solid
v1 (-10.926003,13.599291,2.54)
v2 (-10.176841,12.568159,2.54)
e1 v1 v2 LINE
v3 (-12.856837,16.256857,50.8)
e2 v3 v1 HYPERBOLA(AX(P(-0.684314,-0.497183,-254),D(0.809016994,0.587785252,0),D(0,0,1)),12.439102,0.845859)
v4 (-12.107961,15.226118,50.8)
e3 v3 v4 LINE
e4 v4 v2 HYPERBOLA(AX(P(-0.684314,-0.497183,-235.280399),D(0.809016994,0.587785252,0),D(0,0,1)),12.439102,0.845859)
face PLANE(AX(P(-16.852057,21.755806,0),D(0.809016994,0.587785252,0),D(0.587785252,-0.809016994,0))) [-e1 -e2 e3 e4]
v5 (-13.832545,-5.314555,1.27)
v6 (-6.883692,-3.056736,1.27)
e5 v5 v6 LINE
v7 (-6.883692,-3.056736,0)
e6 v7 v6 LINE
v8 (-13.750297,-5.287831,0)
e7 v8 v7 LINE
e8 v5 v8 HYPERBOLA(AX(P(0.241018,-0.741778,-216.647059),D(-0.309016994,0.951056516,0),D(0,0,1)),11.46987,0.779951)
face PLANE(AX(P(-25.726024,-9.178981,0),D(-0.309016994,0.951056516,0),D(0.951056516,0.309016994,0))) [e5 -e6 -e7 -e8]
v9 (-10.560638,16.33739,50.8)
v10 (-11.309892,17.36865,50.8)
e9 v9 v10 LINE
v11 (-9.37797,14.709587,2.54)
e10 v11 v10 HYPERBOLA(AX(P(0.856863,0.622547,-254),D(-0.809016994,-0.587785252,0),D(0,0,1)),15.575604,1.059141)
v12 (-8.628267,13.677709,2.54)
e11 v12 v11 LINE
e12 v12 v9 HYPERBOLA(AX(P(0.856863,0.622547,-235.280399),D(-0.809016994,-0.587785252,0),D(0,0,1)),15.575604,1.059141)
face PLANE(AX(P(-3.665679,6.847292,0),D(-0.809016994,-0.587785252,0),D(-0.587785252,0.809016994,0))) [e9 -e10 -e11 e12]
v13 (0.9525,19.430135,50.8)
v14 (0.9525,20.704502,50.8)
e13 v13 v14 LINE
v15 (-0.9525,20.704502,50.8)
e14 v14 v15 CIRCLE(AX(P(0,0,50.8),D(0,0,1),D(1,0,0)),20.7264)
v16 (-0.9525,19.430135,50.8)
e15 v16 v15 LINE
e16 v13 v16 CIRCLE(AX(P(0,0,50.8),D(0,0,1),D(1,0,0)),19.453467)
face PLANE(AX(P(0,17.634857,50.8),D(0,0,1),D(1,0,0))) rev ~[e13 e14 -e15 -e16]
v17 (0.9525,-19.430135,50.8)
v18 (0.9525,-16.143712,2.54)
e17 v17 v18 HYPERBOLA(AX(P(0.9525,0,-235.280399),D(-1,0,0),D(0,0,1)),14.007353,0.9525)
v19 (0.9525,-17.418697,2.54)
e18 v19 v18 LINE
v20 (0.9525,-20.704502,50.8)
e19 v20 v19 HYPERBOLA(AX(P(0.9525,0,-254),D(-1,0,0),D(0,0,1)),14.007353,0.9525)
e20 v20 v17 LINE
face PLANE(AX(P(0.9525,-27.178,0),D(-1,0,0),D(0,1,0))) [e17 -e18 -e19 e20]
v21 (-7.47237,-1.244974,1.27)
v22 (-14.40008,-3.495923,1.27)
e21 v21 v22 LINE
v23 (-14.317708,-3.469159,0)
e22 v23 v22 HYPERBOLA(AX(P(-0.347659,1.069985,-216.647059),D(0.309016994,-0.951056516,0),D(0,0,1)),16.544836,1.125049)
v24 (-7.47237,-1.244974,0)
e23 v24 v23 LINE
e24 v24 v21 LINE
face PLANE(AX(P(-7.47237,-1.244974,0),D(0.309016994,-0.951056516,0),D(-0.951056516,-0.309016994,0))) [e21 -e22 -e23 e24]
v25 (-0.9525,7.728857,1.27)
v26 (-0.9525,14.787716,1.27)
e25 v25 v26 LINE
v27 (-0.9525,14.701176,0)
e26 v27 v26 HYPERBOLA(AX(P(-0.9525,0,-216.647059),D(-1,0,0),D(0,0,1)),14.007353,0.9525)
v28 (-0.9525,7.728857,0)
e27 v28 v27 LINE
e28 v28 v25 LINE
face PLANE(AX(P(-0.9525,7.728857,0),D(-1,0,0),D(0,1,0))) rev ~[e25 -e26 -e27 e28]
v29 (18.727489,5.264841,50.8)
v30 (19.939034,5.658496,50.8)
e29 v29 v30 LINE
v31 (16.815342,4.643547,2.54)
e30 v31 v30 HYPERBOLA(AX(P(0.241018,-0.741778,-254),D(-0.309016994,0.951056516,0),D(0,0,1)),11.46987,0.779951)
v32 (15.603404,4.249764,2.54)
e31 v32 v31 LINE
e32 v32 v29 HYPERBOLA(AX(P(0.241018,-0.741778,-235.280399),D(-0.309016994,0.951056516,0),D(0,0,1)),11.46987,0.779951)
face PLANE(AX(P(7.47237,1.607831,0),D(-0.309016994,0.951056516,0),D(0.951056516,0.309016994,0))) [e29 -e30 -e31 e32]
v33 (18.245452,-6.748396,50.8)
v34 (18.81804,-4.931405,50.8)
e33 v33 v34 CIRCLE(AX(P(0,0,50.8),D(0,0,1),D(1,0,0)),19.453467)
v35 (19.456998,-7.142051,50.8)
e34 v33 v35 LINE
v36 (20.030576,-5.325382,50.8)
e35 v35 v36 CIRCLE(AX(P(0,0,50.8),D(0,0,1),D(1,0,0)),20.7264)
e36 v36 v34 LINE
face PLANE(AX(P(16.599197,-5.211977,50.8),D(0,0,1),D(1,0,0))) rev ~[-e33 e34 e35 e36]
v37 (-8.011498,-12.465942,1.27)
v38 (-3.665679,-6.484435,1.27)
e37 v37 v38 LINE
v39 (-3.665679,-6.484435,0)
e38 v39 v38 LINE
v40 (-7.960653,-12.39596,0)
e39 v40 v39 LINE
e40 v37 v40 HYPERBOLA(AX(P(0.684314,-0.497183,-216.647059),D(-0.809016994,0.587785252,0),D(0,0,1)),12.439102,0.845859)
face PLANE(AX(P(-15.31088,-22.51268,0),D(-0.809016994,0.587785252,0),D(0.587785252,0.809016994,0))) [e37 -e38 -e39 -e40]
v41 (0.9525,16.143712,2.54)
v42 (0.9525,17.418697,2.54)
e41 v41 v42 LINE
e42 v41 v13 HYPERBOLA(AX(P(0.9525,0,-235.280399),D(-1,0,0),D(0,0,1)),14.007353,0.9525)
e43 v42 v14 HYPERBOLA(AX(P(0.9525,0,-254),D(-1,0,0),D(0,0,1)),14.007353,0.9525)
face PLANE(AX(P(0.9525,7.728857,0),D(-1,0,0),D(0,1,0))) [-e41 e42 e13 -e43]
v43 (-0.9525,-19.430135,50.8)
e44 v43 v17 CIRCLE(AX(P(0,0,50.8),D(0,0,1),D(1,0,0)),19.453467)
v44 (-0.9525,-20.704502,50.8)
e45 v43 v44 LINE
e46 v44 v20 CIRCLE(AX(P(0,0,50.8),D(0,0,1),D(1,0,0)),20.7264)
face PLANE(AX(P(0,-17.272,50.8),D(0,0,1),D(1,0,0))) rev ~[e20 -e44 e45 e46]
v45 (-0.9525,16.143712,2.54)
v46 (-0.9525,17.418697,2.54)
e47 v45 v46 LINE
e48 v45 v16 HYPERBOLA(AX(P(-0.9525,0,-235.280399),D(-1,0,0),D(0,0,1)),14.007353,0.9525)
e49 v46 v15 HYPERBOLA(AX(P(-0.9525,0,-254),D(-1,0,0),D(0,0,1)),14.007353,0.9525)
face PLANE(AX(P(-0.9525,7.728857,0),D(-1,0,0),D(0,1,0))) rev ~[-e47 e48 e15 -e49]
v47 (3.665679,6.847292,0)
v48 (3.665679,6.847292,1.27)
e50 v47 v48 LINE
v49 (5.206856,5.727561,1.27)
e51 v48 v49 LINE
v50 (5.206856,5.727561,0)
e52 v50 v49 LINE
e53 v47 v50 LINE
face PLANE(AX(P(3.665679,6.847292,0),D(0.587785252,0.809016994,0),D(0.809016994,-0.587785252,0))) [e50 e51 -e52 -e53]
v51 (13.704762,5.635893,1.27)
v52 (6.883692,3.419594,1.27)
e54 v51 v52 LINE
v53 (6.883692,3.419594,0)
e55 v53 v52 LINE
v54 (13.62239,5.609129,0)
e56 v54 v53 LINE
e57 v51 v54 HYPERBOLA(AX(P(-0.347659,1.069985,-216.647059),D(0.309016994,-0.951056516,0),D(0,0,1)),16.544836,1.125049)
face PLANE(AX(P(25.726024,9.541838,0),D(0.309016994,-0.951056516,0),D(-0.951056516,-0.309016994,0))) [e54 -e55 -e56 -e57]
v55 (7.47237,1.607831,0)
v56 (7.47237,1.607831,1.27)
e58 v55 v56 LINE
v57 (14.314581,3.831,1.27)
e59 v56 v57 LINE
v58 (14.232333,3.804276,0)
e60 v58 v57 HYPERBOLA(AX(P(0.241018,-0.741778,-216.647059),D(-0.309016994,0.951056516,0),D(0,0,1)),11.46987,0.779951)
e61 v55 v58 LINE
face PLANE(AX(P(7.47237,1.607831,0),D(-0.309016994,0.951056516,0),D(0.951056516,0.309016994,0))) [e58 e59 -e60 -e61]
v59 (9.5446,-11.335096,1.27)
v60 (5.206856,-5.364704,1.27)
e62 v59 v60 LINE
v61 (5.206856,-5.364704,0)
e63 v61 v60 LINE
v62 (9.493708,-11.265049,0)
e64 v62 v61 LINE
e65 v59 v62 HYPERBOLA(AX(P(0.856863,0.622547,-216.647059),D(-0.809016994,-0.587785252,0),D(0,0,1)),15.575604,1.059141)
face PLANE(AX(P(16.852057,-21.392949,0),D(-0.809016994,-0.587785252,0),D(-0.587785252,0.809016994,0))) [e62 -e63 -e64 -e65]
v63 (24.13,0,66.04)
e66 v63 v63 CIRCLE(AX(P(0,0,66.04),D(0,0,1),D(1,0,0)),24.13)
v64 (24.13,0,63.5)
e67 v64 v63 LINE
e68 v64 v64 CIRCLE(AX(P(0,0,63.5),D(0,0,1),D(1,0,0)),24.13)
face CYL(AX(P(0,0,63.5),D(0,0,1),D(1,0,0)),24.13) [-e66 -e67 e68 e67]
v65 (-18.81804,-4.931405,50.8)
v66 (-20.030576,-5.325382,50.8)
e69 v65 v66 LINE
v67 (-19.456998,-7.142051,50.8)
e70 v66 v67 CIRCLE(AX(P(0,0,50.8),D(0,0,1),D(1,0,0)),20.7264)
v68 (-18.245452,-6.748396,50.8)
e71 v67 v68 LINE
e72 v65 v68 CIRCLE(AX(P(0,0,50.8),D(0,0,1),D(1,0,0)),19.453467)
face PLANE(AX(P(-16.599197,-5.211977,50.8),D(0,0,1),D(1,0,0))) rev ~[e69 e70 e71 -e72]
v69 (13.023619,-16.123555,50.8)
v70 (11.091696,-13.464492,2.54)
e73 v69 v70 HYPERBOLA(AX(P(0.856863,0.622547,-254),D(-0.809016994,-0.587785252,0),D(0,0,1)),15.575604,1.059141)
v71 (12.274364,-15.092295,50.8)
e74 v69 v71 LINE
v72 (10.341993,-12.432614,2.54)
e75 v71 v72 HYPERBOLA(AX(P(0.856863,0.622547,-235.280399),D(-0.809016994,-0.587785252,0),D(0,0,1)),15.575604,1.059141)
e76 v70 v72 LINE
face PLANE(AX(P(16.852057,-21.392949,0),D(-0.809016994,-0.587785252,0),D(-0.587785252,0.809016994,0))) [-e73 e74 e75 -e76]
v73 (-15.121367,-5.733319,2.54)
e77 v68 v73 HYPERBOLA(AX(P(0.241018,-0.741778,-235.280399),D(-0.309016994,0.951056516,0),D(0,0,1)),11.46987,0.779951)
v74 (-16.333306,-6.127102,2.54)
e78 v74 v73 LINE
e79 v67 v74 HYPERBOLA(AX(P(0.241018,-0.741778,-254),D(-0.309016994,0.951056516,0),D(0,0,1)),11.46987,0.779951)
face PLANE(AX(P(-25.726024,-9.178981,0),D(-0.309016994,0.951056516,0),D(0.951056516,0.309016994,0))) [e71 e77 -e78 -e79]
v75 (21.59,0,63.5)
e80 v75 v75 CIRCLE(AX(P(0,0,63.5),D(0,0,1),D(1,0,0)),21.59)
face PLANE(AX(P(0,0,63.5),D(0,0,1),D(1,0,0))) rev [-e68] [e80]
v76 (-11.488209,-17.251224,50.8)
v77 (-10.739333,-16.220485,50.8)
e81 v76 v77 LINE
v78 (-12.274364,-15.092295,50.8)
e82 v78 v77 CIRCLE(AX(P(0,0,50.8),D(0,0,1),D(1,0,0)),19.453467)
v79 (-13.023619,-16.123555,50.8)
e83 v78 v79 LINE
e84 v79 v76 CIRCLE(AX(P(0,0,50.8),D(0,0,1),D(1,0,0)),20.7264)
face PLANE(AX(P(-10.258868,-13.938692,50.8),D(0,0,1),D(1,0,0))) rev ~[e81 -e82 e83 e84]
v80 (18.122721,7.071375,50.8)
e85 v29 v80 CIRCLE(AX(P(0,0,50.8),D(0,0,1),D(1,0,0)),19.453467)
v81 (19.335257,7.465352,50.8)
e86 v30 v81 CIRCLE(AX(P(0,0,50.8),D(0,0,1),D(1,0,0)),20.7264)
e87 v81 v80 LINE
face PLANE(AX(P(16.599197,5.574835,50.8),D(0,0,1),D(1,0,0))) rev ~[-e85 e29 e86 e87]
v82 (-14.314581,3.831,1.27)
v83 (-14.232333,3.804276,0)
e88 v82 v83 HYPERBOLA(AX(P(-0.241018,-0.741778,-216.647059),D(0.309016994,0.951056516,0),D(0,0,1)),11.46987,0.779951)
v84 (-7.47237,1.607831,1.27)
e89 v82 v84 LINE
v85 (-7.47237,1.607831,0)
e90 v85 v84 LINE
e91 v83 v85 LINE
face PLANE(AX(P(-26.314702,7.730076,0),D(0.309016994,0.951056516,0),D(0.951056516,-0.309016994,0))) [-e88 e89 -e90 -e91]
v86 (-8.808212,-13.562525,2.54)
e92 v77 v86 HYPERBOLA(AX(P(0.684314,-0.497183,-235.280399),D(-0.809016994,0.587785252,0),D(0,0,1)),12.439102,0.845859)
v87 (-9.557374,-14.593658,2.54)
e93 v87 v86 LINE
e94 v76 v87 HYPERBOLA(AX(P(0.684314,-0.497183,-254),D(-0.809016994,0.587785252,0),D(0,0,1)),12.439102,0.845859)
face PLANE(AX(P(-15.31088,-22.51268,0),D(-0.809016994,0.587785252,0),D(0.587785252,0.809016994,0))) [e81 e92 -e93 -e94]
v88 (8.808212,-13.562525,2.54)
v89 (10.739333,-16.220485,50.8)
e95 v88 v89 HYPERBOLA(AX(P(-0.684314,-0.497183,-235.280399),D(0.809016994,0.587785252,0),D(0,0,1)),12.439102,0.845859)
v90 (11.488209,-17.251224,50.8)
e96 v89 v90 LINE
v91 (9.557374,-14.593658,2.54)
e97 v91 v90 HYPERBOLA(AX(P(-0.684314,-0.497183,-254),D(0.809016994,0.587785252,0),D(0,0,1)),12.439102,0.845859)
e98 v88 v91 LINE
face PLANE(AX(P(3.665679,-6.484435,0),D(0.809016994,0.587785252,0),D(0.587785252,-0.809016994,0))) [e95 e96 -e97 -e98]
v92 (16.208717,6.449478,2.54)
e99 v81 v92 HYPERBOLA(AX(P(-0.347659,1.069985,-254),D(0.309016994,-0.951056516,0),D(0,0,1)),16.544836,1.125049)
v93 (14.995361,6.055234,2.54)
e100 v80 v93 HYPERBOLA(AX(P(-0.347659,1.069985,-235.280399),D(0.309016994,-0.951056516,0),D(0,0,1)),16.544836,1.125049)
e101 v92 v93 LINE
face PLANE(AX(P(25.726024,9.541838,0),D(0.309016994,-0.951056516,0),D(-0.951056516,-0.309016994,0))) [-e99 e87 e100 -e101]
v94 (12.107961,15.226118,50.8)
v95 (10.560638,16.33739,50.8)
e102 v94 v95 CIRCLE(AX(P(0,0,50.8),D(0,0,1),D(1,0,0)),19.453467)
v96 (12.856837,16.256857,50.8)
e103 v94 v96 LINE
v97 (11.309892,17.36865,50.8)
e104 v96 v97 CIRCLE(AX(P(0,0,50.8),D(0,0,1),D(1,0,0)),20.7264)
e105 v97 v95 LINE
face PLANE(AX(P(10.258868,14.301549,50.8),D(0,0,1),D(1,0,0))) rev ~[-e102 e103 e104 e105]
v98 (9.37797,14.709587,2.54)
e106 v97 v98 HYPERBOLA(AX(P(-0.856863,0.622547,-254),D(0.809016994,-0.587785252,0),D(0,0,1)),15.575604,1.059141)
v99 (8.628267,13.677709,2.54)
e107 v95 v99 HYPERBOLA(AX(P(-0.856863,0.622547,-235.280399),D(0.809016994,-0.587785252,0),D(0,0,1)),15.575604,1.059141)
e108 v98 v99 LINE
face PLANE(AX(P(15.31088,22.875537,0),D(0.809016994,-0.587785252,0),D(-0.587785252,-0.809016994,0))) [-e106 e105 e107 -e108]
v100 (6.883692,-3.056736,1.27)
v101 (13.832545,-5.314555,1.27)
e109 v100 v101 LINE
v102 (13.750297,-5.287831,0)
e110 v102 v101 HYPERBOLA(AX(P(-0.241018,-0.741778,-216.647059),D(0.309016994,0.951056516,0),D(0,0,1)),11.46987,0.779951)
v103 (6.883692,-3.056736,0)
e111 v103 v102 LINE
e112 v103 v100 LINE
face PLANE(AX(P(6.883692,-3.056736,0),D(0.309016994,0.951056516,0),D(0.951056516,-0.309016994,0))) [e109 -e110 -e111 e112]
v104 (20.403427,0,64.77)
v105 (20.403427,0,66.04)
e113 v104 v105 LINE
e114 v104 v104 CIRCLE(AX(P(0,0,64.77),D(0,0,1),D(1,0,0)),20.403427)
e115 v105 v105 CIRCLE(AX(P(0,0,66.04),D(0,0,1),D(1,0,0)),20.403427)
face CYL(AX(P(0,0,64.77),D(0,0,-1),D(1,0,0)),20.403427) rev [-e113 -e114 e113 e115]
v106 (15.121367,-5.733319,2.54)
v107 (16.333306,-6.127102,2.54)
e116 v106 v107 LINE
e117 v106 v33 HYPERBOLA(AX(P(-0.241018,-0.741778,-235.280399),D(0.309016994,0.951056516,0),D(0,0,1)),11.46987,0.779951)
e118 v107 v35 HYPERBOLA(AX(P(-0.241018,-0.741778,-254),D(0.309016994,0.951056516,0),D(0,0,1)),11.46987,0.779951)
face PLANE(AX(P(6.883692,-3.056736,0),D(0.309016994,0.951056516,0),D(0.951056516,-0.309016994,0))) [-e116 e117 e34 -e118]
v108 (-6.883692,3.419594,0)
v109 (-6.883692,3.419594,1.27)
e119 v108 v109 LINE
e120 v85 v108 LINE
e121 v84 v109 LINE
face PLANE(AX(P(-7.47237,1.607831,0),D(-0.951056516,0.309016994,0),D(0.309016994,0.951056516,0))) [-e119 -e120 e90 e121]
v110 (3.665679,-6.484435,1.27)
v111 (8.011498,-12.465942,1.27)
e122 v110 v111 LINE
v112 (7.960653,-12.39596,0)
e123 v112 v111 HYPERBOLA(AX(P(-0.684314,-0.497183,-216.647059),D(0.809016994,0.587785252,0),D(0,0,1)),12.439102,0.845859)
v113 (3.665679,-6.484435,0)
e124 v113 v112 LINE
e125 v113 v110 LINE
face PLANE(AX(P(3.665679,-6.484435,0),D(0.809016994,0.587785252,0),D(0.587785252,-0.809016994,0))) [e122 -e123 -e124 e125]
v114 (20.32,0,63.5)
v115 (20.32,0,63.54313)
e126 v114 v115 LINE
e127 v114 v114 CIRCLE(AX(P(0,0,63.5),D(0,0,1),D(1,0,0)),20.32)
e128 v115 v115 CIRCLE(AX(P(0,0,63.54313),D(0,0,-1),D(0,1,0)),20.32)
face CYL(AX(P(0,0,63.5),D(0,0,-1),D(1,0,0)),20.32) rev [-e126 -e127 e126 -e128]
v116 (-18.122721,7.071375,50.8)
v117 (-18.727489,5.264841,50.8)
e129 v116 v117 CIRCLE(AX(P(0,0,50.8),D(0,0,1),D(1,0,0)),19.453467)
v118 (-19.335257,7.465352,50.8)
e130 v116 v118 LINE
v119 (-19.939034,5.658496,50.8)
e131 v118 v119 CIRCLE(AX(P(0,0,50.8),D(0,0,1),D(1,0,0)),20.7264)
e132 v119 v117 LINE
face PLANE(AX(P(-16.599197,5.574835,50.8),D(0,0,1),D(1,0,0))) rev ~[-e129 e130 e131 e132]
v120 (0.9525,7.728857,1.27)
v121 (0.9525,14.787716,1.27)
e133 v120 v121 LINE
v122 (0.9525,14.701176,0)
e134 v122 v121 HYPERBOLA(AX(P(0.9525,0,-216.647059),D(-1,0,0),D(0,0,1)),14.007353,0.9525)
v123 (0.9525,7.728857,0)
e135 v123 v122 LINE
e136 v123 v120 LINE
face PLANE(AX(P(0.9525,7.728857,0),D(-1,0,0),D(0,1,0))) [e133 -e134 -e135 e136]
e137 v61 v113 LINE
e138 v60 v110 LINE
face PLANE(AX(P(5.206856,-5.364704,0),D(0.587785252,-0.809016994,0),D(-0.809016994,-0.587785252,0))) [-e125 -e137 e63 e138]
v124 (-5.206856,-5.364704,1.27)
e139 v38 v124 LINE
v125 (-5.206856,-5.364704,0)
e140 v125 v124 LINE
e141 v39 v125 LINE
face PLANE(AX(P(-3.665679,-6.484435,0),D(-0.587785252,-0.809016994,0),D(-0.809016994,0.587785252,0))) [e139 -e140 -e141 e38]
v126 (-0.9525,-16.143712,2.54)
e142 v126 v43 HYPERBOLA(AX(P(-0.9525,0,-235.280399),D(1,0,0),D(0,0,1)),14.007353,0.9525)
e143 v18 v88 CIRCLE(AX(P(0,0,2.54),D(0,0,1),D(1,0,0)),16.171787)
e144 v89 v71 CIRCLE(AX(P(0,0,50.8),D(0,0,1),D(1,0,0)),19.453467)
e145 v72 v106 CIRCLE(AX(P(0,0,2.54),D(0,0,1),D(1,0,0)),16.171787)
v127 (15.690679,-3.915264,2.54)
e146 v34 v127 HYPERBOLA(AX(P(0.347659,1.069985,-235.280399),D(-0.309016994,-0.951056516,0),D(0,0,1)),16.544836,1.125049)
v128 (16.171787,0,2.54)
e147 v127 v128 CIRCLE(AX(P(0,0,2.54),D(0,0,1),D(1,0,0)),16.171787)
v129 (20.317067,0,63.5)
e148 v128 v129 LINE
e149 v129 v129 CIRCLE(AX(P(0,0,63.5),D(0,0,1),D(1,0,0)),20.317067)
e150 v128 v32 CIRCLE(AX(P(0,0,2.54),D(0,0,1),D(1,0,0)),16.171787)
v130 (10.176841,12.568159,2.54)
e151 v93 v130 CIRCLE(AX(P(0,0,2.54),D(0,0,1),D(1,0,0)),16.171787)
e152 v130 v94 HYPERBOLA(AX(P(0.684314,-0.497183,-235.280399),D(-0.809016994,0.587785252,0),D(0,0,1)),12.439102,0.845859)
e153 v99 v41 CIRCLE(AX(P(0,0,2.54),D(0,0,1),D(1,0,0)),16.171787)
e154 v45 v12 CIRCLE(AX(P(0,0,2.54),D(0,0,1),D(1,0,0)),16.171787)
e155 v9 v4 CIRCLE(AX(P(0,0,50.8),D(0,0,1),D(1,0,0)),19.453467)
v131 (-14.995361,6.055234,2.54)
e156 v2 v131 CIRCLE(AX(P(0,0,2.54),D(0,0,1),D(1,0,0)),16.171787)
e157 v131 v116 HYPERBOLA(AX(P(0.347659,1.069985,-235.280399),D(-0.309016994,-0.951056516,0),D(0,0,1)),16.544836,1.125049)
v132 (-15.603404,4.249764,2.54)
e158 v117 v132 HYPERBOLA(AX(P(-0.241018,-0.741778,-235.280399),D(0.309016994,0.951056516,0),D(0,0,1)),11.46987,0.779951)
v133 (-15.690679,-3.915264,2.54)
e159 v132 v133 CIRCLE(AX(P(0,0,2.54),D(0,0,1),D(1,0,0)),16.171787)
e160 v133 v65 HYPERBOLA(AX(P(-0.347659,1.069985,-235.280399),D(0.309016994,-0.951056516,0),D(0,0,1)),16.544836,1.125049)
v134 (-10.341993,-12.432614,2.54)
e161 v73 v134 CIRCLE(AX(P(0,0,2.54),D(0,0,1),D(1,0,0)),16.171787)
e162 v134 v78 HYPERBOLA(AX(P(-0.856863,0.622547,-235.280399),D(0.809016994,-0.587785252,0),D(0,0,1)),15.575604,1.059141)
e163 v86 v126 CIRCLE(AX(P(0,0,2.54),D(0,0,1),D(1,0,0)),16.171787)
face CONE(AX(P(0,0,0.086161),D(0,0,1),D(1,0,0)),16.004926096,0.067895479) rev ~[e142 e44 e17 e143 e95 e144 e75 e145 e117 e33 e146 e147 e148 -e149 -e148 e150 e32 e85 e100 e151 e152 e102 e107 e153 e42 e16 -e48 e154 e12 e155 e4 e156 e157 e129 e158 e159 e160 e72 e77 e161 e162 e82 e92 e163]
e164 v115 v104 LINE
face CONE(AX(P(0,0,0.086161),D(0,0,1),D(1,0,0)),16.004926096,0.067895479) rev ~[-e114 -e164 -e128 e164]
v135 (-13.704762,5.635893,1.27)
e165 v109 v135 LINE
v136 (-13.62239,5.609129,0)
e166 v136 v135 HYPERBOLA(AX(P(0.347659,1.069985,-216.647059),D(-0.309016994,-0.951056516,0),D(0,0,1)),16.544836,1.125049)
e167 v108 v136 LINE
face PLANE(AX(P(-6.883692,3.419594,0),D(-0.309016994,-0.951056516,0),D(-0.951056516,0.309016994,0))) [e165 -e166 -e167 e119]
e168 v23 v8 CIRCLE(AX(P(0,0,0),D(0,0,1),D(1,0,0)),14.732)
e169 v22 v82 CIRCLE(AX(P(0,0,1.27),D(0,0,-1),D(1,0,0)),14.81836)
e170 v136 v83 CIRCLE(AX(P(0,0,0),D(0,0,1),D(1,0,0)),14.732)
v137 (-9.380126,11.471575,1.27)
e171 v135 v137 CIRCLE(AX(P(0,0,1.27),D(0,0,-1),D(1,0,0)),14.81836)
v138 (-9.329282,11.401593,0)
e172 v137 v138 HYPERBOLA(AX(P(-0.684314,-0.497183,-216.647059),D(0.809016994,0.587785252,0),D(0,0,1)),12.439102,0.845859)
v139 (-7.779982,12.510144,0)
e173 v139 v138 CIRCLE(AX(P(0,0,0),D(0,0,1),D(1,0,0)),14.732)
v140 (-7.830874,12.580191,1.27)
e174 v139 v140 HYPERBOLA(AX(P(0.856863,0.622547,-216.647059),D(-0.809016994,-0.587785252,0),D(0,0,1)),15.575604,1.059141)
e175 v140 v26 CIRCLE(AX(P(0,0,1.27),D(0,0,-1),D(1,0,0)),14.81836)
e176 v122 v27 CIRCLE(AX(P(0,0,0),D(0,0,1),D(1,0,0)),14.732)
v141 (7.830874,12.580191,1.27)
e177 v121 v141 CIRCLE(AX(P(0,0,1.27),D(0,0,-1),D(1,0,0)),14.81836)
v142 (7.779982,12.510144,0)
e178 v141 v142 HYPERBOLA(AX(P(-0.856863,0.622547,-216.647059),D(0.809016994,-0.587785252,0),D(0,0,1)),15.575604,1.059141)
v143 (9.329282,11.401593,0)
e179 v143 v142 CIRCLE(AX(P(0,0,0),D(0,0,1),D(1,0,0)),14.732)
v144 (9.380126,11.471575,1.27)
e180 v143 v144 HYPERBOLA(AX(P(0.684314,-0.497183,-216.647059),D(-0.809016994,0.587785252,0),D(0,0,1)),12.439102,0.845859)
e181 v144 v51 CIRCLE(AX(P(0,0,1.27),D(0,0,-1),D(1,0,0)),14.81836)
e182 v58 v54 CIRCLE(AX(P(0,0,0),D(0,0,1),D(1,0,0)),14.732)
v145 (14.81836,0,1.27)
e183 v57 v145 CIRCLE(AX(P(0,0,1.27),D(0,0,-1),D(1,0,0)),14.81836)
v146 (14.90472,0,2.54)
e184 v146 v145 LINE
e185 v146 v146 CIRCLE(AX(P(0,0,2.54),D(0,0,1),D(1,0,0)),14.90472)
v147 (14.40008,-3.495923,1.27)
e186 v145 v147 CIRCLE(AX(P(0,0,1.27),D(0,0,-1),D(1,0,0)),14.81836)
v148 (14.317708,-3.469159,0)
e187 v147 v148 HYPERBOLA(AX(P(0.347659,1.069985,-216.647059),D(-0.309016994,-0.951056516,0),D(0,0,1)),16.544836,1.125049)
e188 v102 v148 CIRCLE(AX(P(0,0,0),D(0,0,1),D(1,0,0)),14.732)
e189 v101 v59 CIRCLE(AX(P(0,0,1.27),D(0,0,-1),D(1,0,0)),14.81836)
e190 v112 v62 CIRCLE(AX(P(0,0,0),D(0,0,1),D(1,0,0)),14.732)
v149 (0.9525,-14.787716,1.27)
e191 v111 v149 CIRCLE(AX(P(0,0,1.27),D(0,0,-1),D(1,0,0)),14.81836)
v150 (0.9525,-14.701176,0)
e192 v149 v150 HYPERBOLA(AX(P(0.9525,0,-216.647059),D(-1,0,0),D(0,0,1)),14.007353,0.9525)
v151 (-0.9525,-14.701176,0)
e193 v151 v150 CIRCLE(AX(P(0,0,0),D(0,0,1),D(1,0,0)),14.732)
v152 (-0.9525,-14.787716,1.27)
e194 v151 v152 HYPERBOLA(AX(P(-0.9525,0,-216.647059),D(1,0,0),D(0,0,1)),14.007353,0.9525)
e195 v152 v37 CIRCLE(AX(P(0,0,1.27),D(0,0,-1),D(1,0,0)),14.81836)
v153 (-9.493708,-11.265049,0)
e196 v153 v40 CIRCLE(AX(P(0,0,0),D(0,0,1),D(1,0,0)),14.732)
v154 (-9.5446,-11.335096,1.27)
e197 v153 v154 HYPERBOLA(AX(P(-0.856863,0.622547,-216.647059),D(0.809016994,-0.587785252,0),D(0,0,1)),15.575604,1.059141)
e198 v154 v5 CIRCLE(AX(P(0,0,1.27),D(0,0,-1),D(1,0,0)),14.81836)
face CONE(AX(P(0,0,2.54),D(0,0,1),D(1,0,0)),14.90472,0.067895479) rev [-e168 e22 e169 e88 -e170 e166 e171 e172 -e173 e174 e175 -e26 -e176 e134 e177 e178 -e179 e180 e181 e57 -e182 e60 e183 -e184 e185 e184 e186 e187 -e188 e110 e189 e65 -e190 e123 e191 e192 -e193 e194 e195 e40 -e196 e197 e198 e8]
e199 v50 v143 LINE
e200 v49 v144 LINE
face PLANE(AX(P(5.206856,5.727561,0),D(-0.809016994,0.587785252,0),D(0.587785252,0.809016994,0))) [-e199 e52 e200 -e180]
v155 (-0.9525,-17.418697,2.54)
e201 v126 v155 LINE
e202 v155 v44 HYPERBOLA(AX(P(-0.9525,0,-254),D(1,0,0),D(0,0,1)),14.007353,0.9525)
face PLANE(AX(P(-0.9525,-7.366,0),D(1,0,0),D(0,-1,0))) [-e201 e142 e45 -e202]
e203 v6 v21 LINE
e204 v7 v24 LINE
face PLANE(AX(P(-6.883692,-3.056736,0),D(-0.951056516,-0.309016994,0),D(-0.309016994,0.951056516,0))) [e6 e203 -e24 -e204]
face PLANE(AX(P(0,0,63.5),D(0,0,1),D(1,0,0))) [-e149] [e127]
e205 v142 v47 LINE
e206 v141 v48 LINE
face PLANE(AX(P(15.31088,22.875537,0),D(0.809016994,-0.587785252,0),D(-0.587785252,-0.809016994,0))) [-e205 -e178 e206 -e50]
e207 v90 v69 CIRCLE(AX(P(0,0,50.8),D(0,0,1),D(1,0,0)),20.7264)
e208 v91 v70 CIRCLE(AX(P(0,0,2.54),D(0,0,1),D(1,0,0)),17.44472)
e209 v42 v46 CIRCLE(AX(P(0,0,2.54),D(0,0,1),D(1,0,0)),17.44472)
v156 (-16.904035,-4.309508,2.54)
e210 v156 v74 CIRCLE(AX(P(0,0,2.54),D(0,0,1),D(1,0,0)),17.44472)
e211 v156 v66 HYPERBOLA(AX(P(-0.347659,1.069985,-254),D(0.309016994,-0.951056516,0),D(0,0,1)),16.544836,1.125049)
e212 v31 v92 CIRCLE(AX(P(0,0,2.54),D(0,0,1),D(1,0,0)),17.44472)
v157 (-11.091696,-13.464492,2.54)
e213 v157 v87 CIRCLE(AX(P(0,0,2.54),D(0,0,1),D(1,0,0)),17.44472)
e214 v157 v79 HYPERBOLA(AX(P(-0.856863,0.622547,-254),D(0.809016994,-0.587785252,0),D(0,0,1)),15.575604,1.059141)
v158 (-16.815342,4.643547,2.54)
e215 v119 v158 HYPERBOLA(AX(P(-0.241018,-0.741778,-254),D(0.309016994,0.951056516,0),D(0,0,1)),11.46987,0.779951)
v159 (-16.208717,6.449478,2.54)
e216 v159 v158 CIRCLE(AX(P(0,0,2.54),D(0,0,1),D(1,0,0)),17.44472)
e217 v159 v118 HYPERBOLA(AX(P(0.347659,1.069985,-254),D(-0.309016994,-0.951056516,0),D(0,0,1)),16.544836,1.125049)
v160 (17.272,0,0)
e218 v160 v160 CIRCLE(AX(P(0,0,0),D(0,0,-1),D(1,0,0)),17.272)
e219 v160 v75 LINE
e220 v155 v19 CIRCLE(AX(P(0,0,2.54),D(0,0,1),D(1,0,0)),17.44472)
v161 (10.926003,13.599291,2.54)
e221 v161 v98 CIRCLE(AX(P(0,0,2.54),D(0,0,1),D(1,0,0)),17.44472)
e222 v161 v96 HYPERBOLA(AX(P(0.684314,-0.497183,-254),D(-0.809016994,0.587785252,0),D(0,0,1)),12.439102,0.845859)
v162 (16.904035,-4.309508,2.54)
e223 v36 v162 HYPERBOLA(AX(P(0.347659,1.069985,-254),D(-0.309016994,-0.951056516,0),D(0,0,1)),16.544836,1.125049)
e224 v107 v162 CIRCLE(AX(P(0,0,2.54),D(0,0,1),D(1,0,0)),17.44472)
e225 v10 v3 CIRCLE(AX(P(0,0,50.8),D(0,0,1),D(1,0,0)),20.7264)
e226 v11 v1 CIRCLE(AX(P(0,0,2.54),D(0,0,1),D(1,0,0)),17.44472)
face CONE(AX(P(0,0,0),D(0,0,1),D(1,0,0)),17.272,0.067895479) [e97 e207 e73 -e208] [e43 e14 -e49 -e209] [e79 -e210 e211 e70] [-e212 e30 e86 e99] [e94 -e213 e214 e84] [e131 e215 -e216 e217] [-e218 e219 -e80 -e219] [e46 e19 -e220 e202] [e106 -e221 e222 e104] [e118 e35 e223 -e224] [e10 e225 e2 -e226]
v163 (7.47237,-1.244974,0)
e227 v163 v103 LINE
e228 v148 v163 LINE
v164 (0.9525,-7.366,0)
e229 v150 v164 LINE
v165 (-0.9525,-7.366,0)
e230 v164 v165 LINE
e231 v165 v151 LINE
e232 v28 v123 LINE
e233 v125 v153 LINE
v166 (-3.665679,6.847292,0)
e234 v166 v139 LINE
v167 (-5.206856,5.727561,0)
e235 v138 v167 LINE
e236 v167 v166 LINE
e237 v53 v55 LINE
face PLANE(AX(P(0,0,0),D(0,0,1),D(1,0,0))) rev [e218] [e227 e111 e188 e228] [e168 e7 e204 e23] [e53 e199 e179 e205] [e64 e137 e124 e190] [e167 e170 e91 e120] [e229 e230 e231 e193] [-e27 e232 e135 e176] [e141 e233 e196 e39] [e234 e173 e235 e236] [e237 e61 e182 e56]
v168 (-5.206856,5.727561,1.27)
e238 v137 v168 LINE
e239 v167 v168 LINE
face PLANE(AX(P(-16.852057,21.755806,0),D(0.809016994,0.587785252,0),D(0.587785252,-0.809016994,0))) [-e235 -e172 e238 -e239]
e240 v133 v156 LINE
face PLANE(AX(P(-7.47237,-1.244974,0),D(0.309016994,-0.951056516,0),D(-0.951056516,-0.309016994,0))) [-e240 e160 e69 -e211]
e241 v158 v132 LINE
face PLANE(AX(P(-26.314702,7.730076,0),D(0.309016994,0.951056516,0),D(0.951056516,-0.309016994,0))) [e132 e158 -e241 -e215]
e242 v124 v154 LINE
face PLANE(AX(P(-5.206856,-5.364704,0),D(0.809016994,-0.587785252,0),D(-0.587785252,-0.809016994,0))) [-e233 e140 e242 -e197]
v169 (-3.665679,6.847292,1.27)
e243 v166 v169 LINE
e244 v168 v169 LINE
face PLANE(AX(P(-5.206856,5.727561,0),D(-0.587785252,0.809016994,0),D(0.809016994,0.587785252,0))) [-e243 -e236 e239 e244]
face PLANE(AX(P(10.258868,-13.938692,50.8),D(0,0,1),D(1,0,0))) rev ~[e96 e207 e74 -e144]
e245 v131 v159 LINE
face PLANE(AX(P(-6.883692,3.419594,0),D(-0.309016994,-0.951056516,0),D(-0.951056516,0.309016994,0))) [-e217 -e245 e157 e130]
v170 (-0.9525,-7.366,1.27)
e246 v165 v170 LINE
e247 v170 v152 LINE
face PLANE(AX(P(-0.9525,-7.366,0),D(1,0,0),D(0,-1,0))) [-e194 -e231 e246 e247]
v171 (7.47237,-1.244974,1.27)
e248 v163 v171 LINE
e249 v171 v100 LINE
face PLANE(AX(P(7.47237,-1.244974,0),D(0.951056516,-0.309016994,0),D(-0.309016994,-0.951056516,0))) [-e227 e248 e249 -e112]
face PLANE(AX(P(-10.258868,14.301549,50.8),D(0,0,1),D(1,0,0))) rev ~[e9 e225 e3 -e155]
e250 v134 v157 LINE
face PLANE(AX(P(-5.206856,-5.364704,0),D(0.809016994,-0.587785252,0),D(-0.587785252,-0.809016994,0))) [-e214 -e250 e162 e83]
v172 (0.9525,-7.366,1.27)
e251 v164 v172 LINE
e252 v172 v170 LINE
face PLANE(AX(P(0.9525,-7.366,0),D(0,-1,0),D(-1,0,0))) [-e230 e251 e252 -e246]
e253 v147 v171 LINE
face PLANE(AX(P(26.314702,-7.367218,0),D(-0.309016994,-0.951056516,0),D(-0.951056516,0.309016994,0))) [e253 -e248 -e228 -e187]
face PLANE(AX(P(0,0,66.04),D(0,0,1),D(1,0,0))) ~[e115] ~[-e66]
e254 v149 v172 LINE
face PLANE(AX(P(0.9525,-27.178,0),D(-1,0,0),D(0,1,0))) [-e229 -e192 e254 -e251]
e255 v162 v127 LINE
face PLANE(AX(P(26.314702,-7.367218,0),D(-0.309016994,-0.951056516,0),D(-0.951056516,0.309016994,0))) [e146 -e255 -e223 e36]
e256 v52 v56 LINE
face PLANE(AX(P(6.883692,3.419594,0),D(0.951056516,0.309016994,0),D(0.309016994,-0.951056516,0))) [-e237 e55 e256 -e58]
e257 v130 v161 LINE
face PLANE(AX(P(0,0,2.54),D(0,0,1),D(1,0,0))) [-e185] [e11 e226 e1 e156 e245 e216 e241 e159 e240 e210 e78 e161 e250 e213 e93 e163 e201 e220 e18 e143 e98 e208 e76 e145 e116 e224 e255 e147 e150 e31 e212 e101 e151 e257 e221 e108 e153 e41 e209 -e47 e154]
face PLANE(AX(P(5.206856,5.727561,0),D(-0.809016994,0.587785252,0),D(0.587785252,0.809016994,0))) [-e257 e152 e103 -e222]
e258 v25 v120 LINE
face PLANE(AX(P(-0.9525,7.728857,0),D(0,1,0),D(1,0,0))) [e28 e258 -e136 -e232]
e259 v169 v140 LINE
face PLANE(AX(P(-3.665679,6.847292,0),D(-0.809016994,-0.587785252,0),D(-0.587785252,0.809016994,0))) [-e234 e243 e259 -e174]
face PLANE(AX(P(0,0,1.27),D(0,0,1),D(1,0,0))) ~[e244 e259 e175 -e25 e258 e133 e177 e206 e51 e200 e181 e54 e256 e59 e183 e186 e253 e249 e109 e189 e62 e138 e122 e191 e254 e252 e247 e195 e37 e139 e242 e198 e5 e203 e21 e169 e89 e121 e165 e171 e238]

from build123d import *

# Parameters (mm, degrees)
F2_T     = -1.27
F3_DEPTH = 1.27
F5_R     = 20.32
F6_DEPTH = 25.4
F7_W     = 1.905
F7_H     = 19.812
F8_DEPTH = 50.8


with BuildPart() as f1:
    # F0 (on Front) → F1 (revolve)
    with BuildSketch(Plane.XZ):
        Polygon((0, 63.5), (0, 0), (17.272, 0), (21.59, 63.5), align=None)
        Polygon((0, 66.04), (0, 63.5), (21.59, 63.5), (24.13, 63.5), (24.13, 66.04), align=None)
    revolve(axis=Axis((0, 0, 31.75), (0, 0, 1)))

    # F2
    f2_openings = [f1.faces().sort_by_distance(p)[0] for p in [
        (0, 0, 66.04),
    ]]
    offset(amount=F2_T, openings=f2_openings, kind=Kind.INTERSECTION)

    # F3 (add): a face of the model
    f3_faces = [f1.faces().sort_by_distance(p)[0] for p in [
        (-22.2134215593, 0, 64.77),
    ]]
    extrude(f3_faces, amount=F3_DEPTH)

    # F5 (on offset) → F6 (cut)
    with BuildSketch(Plane.XY.offset(63.5)):
        Circle(F5_R)
    extrude(amount=F6_DEPTH, mode=Mode.SUBTRACT)

    # F7 (on Top) → F8 (cut)
    with BuildSketch(Plane.XY):
        Polygon((0.9525, -27.178), (0.9525, -7.366), (0, -7.366), (-0.9525, -7.366), (-0.9525, -27.178), align=None)
        Polygon((5.2068558942, -5.3647039539), (3.6656785199, -6.4844348595), (15.3108799383, -22.5126795521), (16.8520573126, -21.3929486464), align=None)
        Polygon((7.4723698113, -1.2449737892), (6.883692437, -3.0567364527), (25.7260241378, -9.1789811453), (26.3147015121, -7.3672184818), align=None)
        Polygon((6.883692437, 3.4195935956), (7.4723698113, 1.6078309321), (26.3147015121, 7.7300756246), (25.7260241378, 9.5418382882), align=None)
        Polygon((3.6656785199, 6.8472920024), (5.2068558942, 5.7275610967), (16.8520573126, 21.7558057893), (15.3108799383, 22.8755366949), align=None)
        with Locations((0, 17.6348571429)):
            Rectangle(F7_W, F7_H)
        Polygon((-5.2068558942, 5.7275610967), (-3.6656785199, 6.8472920024), (-15.3108799383, 22.8755366949), (-16.8520573126, 21.7558057893), align=None)
        Polygon((-7.4723698113, 1.6078309321), (-6.883692437, 3.4195935956), (-25.7260241378, 9.5418382882), (-26.3147015121, 7.7300756246), align=None)
        Polygon((-6.883692437, -3.0567364527), (-7.4723698113, -1.2449737892), (-26.3147015121, -7.3672184818), (-25.7260241378, -9.1789811453), align=None)
        Polygon((-3.6656785199, -6.4844348595), (-5.2068558942, -5.3647039539), (-16.8520573126, -21.3929486464), (-15.3108799383, -22.5126795521), align=None)
    extrude(amount=F8_DEPTH, mode=Mode.SUBTRACT)

    # F9 (on Front) → F10 (revolve)
    with BuildSketch(Plane.XZ):
        Polygon((14.9047199998, 2.54), (14.732, 0), (17.272, 0), (17.44472, 2.54), align=None)
    revolve(axis=Axis((0, 0, 1.27), (0, 0, 1)))


solid = f1.part
